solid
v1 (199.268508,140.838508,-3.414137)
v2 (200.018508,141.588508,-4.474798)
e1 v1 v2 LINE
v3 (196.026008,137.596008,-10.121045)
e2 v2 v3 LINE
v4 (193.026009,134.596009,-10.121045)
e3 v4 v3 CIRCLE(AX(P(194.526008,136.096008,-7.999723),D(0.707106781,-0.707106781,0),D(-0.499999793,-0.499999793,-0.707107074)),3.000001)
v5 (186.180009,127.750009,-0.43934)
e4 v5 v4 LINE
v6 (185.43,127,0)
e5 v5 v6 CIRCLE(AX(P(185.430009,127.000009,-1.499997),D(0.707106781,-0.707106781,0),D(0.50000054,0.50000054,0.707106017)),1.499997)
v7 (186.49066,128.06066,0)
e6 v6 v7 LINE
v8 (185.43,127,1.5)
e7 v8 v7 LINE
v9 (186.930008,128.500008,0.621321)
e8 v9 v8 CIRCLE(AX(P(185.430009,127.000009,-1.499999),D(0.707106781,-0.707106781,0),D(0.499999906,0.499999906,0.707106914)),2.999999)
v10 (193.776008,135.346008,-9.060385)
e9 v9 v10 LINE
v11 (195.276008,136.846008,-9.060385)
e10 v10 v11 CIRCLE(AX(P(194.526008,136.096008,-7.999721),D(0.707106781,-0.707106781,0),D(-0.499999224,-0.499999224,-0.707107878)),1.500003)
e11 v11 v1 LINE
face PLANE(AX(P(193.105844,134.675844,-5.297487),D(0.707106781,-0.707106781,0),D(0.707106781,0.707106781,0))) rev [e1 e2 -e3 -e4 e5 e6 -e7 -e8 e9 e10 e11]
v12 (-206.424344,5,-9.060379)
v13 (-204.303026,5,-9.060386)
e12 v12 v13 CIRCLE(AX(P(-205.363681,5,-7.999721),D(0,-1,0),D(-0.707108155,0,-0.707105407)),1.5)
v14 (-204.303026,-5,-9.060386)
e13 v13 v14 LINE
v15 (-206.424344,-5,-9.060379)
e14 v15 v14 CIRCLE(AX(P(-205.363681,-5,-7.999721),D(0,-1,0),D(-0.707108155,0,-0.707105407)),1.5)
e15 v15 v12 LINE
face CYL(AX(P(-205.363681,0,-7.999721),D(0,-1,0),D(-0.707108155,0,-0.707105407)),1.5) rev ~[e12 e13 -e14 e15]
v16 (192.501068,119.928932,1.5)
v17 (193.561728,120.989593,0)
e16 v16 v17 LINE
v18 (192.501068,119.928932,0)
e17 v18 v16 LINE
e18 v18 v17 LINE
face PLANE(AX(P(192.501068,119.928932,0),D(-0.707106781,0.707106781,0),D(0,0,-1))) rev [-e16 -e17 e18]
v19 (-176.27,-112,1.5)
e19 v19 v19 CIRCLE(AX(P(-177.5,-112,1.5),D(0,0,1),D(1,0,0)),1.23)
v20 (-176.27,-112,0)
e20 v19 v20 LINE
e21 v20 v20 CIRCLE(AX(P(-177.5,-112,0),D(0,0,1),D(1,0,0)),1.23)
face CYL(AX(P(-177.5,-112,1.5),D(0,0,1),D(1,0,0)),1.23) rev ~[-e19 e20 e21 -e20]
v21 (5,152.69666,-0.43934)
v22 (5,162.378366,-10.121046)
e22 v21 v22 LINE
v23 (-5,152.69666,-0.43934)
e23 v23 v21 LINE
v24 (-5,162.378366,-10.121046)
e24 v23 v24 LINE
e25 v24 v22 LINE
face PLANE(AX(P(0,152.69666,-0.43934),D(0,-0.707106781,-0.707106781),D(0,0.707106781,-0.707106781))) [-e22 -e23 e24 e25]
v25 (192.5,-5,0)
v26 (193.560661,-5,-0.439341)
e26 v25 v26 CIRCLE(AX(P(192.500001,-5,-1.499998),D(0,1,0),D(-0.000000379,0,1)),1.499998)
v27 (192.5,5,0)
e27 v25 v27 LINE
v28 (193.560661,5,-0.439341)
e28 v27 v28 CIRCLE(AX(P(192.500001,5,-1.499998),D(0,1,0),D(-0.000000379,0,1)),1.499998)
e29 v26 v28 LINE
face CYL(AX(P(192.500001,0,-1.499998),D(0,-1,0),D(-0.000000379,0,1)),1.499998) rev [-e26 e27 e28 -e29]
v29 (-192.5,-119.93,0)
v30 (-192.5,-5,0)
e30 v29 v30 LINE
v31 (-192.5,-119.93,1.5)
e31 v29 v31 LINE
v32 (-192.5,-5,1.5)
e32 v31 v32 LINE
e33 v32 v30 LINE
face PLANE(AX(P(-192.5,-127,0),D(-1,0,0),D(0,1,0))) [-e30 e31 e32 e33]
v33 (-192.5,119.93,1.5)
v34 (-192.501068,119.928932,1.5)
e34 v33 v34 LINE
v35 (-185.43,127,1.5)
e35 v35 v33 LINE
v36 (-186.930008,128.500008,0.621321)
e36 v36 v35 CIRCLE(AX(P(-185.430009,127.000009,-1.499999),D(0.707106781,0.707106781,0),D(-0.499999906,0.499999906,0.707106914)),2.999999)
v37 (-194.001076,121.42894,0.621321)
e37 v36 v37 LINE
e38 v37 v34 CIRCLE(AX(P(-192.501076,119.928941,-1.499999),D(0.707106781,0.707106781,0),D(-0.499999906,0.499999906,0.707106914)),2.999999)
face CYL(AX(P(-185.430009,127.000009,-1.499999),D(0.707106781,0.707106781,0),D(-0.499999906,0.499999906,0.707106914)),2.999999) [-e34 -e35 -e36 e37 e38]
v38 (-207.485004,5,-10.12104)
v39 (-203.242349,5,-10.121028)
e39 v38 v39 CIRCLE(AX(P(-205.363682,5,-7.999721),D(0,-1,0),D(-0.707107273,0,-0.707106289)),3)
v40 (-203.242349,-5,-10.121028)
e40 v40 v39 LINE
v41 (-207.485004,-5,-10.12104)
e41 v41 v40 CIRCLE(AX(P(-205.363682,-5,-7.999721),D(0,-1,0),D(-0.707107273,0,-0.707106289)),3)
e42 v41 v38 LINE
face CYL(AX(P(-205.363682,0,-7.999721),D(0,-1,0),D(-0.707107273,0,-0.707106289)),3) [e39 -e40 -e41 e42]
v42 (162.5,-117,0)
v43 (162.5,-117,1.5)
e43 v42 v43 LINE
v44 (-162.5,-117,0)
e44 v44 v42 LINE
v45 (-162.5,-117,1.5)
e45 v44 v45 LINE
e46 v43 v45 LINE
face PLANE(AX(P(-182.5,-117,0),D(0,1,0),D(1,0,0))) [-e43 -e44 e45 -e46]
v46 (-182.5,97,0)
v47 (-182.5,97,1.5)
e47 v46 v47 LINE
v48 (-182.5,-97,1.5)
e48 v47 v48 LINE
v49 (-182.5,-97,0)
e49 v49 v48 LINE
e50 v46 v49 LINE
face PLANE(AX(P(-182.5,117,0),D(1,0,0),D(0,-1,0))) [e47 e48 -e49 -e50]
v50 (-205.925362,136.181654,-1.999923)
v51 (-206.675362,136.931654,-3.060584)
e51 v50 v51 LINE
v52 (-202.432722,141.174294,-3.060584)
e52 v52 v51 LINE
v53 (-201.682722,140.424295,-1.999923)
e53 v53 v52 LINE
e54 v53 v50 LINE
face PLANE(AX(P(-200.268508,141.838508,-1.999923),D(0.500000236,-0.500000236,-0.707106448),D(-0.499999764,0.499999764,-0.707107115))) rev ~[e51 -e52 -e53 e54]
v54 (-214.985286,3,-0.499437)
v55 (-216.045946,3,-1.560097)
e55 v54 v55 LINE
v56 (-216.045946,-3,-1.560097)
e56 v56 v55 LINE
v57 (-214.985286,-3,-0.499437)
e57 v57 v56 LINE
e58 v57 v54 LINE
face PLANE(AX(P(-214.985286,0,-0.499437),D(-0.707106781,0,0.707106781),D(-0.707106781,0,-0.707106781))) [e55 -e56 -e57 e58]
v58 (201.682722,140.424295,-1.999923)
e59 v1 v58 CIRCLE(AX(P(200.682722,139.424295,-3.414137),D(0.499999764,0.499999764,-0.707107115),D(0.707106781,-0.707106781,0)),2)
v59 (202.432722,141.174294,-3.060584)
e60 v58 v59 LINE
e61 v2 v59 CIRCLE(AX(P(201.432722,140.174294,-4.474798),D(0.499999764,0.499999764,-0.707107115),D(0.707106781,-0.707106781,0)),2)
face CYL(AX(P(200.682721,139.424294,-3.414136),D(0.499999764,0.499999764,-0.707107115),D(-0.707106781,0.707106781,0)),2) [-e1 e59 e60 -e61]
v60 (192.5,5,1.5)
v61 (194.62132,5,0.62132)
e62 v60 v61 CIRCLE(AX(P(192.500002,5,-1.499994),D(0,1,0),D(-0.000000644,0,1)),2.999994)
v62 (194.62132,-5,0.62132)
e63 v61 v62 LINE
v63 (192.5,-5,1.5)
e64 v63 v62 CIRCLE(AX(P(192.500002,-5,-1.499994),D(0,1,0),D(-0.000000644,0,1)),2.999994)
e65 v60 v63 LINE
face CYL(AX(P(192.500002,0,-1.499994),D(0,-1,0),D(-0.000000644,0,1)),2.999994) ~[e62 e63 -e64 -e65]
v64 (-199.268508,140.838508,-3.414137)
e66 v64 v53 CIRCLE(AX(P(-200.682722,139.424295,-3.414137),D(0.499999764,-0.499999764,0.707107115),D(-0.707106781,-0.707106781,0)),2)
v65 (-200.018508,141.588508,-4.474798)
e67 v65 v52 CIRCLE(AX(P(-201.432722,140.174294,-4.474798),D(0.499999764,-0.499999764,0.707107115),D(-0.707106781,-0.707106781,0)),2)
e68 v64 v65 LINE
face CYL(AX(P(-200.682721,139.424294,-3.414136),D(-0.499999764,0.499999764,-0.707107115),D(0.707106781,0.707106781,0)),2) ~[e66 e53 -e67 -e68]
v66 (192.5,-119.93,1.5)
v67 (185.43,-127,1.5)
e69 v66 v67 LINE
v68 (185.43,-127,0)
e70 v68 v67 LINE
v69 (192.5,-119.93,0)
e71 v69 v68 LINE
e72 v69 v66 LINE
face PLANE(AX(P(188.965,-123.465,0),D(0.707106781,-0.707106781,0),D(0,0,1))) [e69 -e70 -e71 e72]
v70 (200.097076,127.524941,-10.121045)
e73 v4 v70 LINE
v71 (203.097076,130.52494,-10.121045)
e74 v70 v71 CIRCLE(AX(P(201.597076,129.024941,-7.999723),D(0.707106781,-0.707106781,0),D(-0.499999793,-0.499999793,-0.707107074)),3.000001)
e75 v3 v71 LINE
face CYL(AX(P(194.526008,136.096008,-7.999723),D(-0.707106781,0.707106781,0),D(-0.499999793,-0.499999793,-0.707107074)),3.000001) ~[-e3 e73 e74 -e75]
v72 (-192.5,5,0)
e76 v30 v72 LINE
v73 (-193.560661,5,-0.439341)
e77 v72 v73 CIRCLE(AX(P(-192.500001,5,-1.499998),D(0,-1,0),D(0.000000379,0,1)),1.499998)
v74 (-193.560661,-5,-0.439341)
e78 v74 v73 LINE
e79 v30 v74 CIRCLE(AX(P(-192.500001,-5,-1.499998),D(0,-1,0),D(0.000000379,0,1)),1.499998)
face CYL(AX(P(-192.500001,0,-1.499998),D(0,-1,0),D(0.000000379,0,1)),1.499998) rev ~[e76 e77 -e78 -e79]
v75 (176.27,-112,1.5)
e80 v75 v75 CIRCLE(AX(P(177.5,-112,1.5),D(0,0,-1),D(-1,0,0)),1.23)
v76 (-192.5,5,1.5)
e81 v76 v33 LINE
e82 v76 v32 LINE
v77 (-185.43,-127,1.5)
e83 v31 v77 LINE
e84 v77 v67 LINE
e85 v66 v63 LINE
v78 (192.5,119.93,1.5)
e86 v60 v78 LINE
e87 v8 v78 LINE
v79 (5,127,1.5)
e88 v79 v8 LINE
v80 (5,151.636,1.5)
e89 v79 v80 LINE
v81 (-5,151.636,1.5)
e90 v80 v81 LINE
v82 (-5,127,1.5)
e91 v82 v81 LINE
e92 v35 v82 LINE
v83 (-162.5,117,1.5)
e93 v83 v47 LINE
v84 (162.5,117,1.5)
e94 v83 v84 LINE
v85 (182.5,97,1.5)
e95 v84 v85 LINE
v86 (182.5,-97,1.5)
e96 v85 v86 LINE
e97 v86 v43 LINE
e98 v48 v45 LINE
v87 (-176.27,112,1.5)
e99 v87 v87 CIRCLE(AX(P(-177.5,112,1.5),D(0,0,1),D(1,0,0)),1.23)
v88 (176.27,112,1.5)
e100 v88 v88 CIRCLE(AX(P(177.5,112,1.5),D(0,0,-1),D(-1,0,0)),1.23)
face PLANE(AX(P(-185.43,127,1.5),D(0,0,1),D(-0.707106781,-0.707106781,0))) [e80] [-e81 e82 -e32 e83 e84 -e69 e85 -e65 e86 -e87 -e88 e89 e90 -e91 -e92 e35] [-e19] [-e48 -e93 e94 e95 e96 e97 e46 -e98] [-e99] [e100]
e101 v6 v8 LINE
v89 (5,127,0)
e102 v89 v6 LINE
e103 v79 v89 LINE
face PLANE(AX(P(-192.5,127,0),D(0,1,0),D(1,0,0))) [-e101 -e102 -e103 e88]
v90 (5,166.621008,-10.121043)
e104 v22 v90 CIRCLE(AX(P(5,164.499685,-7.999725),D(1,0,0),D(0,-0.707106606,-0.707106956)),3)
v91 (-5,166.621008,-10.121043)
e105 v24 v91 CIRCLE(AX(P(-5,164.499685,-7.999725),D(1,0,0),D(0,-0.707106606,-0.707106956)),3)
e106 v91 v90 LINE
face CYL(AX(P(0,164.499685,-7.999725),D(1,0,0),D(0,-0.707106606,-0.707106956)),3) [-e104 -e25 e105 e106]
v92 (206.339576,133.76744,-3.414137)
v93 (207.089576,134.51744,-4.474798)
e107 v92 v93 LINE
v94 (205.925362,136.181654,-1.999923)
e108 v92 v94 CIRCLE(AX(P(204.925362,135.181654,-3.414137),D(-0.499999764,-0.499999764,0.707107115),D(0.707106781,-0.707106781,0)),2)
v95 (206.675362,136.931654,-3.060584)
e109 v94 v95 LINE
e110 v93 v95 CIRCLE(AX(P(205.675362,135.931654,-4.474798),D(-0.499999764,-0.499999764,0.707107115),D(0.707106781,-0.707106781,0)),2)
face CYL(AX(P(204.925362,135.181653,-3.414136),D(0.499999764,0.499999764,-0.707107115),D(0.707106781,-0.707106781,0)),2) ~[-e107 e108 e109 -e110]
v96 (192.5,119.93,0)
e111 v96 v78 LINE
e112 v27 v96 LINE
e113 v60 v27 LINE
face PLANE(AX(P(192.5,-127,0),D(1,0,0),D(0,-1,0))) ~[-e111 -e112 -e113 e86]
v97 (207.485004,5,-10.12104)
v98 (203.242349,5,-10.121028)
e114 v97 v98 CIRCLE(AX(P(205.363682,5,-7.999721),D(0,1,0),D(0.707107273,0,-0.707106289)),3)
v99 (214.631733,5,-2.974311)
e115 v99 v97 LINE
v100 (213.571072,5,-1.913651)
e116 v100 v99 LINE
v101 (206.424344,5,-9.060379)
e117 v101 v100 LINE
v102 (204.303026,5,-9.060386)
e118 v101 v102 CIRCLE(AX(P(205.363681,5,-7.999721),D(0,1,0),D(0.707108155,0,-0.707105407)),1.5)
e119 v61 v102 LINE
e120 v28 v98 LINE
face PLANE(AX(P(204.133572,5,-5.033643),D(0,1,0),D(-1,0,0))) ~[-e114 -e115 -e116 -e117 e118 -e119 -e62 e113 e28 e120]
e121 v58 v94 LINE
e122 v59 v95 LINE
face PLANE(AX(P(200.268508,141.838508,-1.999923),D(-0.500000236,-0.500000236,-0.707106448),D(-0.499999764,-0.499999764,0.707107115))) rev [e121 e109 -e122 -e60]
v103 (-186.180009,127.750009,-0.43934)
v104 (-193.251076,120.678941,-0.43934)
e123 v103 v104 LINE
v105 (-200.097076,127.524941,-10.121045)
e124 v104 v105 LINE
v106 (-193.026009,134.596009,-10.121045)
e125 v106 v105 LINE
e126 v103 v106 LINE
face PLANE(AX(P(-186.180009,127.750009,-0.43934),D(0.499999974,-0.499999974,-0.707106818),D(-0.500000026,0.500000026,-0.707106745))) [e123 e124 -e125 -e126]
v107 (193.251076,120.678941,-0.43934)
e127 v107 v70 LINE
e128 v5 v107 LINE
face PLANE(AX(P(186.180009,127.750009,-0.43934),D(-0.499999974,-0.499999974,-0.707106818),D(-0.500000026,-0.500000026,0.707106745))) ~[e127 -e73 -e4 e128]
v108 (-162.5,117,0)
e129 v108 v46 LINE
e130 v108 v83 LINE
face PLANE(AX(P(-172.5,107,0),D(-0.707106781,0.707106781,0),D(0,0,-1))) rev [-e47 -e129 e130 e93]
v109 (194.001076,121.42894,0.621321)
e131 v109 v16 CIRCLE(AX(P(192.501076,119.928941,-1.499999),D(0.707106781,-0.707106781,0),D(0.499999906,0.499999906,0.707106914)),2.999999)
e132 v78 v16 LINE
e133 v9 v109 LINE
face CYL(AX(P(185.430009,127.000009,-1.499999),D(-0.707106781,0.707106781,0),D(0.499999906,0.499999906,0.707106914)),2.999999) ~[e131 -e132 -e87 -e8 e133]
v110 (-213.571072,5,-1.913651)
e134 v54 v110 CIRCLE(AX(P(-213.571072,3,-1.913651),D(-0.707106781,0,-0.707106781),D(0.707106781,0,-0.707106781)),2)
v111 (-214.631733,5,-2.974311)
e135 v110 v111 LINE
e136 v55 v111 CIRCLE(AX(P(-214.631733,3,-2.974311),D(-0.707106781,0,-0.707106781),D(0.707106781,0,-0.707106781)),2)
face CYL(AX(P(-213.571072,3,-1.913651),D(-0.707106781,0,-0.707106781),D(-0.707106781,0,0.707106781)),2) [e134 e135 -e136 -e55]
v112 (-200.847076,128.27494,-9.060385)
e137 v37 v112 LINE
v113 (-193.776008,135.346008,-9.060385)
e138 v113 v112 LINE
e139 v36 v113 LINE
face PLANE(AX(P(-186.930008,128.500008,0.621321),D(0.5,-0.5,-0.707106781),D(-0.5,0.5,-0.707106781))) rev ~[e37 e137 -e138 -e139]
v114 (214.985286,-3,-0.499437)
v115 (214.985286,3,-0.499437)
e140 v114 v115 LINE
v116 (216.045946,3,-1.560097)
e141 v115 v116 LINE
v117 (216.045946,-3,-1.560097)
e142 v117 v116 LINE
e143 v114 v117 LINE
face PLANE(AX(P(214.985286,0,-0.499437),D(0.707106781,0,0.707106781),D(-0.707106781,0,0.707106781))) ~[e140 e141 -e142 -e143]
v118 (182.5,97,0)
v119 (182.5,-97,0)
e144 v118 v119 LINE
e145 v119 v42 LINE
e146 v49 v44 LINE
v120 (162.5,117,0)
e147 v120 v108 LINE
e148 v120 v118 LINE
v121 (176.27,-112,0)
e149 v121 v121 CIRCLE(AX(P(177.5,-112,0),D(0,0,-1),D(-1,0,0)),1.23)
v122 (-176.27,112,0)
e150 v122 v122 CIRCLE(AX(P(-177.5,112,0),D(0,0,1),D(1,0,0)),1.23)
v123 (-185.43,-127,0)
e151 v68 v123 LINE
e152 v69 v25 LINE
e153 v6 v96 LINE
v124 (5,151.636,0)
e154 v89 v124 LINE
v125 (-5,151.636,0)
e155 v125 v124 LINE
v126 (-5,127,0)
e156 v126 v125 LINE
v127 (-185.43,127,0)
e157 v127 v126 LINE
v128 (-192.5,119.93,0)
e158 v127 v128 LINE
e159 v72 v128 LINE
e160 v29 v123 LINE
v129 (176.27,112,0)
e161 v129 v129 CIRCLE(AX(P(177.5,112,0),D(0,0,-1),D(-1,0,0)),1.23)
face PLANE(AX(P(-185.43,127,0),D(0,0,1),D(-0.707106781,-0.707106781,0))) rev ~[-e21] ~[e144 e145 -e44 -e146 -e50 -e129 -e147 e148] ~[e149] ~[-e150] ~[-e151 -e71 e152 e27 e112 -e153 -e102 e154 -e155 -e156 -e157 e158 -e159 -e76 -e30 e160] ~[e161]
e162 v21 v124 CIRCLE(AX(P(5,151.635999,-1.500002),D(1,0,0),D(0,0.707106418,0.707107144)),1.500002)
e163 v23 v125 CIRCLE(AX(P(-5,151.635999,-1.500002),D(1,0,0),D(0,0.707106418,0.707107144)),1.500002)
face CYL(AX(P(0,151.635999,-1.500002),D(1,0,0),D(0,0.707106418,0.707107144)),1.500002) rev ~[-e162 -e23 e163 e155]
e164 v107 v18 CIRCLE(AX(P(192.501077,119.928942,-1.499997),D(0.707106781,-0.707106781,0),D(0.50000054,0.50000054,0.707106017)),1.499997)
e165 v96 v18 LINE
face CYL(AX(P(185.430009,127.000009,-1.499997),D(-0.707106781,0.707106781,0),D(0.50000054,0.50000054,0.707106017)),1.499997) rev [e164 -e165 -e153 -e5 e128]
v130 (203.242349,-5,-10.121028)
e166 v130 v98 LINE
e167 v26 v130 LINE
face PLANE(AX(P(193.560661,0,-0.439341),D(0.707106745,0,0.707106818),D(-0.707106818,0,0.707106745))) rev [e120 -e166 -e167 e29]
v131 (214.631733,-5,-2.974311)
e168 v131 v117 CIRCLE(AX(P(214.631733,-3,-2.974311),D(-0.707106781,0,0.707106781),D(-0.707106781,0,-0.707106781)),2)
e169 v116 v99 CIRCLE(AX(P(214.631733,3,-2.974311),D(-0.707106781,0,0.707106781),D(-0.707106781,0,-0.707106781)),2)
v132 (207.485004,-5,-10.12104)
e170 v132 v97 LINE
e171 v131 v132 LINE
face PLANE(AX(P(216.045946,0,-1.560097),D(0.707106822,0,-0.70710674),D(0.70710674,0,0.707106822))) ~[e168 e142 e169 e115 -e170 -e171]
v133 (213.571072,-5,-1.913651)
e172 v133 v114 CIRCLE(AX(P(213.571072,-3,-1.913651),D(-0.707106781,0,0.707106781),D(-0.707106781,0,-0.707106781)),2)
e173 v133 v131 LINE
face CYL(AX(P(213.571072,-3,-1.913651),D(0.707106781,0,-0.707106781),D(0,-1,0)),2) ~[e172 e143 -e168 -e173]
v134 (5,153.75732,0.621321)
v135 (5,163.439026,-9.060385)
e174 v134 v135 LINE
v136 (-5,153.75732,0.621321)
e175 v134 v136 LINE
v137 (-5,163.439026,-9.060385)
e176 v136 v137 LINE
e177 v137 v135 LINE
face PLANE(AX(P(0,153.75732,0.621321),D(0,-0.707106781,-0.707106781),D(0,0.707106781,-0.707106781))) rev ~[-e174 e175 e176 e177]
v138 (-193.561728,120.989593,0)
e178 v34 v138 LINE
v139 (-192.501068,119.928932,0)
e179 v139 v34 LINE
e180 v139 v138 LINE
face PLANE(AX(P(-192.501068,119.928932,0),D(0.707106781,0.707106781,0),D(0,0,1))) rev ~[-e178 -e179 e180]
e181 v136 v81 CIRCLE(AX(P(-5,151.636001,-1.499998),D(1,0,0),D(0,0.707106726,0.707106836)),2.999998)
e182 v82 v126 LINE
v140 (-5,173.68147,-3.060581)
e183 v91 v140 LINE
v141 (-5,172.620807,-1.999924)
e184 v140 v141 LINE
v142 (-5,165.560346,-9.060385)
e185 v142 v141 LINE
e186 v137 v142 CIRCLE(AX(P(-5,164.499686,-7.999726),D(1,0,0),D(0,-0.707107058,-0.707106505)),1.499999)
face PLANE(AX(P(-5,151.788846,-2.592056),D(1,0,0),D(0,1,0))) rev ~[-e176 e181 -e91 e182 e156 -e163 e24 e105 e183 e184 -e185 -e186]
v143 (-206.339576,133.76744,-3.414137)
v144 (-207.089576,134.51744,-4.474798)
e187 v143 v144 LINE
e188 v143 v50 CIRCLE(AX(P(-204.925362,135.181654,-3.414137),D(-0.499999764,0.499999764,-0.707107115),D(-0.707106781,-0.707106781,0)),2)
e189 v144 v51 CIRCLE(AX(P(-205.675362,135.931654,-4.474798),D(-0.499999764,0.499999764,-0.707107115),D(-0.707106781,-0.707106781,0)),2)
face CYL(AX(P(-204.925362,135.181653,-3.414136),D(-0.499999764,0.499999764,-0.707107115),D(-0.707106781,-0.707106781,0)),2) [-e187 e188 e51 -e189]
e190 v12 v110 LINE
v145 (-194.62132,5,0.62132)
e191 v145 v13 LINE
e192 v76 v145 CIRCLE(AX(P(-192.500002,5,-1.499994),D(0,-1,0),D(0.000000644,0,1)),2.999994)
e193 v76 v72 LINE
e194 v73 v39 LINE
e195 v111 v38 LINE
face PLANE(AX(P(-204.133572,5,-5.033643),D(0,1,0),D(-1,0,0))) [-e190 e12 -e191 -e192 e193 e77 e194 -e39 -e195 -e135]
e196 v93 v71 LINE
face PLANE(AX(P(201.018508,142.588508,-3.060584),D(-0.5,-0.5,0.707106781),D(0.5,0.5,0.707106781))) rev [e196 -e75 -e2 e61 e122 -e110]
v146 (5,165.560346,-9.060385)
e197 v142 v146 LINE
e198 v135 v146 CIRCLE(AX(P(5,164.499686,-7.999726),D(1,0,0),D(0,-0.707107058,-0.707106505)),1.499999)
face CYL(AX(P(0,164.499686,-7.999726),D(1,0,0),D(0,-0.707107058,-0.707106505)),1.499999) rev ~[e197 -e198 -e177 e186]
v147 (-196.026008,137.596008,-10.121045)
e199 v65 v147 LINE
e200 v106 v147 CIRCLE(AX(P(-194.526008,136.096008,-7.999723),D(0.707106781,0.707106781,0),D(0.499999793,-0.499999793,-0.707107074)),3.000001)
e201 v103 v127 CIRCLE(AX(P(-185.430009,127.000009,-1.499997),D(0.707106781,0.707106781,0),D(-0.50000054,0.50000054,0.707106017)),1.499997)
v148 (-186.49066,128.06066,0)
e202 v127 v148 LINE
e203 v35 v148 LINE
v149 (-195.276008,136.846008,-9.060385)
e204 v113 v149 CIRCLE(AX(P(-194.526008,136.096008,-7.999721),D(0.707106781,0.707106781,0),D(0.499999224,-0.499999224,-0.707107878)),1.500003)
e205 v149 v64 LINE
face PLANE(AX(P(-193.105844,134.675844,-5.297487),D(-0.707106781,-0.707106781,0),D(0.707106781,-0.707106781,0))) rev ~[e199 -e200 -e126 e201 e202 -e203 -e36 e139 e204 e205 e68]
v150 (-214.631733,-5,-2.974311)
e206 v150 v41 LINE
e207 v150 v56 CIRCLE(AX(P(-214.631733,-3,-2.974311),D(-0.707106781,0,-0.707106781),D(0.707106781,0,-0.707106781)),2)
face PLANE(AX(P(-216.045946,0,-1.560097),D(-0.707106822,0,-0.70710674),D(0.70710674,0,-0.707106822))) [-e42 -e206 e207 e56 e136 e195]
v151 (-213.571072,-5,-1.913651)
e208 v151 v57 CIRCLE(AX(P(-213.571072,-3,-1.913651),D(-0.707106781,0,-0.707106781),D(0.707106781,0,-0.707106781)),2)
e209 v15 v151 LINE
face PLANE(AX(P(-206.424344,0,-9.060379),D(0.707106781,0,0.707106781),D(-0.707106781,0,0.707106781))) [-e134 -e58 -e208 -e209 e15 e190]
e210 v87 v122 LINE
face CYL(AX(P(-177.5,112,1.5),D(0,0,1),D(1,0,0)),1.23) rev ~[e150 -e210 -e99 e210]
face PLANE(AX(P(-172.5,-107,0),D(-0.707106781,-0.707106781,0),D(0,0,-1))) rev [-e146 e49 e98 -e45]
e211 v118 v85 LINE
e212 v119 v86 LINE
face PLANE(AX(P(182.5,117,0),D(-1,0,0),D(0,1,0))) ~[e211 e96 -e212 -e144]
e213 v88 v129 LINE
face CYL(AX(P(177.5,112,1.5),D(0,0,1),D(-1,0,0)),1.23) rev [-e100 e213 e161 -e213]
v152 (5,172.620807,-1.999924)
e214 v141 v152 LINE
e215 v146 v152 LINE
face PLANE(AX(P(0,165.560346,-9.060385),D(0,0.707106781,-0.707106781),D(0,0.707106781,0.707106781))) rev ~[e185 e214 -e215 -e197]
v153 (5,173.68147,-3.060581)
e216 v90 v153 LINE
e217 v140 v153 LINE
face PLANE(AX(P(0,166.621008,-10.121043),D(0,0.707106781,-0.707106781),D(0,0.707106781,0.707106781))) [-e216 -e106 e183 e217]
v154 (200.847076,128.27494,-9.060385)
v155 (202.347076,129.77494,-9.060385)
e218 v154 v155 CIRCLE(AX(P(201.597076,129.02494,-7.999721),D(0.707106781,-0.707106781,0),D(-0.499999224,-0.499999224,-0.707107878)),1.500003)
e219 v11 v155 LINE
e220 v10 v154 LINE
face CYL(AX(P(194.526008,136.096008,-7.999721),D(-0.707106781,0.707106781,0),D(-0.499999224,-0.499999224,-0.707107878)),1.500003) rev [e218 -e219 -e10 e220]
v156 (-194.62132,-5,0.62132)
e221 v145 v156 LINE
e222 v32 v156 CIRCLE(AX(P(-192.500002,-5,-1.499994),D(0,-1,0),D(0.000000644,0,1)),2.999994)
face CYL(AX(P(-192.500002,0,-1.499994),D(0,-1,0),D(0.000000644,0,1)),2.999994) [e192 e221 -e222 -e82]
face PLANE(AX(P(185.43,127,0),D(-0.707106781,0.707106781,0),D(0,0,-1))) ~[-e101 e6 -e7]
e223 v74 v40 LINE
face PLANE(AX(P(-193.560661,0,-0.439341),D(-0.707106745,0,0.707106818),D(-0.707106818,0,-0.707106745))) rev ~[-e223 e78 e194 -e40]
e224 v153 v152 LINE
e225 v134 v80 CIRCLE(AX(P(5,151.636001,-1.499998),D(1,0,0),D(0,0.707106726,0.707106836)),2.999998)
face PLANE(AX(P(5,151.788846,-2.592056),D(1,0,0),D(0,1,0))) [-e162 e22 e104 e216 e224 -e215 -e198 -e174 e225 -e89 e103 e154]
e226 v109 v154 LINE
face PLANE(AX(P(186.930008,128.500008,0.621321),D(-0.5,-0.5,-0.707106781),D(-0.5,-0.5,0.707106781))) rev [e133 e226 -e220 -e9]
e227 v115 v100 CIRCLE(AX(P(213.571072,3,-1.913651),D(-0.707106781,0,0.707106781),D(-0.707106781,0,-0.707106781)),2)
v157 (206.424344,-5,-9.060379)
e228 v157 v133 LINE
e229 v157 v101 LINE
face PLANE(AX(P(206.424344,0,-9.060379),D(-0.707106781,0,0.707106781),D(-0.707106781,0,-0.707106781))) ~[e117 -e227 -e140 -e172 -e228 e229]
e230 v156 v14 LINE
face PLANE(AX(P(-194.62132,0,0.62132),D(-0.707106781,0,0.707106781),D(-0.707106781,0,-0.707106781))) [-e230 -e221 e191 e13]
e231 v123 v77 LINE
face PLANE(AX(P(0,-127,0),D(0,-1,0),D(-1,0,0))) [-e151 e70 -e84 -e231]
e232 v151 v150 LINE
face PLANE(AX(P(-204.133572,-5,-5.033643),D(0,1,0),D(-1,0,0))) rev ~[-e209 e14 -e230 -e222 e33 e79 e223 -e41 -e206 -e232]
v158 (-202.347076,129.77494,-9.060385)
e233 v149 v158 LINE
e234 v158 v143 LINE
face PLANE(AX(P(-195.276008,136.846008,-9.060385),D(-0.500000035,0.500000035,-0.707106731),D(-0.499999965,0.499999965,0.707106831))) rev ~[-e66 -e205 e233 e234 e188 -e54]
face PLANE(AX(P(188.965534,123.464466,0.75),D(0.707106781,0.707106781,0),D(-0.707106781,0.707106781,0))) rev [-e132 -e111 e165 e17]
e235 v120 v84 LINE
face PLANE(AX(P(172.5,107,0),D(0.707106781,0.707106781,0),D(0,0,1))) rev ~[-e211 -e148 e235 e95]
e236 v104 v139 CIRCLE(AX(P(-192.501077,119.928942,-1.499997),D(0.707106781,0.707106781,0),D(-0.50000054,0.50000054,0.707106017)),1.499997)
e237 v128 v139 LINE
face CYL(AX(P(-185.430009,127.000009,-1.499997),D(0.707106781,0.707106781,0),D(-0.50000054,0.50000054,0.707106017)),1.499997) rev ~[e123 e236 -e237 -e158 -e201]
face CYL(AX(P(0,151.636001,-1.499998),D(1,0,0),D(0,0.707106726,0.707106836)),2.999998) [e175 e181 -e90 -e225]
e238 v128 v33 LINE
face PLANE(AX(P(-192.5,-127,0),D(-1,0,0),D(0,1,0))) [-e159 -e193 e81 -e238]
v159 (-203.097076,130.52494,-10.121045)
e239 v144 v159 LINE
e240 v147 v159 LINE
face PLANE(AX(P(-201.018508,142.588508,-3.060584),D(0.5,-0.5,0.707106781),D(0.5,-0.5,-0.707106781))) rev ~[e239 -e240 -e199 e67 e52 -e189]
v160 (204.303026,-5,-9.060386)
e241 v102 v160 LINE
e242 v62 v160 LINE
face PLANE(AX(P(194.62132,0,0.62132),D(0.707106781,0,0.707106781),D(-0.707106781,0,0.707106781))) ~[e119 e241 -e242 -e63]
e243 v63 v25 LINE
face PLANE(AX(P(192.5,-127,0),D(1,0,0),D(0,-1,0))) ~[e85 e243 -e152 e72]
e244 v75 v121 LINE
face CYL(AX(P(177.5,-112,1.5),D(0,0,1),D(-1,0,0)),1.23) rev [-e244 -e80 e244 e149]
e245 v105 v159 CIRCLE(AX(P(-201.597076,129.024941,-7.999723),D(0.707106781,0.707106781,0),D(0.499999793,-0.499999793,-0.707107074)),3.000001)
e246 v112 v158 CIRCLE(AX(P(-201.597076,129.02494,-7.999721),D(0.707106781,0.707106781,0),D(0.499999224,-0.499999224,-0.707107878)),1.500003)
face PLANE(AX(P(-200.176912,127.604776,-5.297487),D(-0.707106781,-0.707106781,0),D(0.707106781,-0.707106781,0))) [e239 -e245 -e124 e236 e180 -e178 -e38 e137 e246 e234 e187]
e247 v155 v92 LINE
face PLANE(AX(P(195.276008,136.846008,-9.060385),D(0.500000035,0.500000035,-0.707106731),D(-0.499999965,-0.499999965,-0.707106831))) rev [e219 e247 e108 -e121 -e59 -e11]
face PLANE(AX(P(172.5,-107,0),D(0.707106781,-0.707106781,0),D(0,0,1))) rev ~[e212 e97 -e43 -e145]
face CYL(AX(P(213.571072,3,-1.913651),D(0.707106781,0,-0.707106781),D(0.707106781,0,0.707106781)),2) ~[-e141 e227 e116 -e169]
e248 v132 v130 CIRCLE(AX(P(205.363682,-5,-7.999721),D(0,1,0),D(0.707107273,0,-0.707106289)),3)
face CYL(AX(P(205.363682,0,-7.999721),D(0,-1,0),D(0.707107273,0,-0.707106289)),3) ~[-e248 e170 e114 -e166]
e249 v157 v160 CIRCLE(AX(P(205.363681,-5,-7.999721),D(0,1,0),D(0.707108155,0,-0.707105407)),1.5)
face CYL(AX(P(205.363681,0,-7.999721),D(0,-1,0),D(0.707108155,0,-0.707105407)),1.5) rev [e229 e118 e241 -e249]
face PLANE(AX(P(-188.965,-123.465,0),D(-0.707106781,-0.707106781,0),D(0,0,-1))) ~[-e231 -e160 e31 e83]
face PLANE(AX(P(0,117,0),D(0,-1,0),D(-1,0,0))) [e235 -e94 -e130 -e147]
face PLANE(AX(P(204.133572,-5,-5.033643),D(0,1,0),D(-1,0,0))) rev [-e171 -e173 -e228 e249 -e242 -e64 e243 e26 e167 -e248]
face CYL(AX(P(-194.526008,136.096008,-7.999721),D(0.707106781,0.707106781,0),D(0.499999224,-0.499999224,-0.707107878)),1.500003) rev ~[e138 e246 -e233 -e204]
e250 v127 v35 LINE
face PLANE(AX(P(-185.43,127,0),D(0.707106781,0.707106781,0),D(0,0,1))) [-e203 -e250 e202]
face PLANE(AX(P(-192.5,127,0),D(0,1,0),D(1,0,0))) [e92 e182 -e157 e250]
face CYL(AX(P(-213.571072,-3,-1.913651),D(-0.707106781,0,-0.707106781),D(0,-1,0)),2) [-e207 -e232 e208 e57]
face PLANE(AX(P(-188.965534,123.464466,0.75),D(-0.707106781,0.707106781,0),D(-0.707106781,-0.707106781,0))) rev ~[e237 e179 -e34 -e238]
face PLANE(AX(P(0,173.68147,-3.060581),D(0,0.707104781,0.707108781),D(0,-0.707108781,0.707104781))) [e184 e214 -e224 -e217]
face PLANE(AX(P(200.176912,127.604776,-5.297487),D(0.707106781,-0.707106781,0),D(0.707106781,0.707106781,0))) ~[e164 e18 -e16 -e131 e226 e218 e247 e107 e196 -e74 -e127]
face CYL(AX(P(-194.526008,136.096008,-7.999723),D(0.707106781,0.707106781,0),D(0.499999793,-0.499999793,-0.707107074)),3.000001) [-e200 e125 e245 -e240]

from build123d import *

# Parameters (mm, degrees)
PAD_DEPTH       = 1.5
CHAMFER_SIZE    = 20
CHAMFER001_SIZE = 7.07
SKETCH001_W     = 10
SKETCH001_H     = 1.5
PAD001_DEPTH    = 1.5
POCKET_DEPTH    = 10
PAD002_DEPTH    = 10
FILLET_R        = 2
SKETCH004_R     = 1.23
POCKET001_DEPTH = 5
PAD003_DEPTH    = 5
FILLET001_R     = 2
PAD004_DEPTH    = 5


with BuildPart() as pocket001:
    # Sketch → Pad (new body)
    with BuildSketch(Plane.XY):
        Polygon((-192.5, 127), (0, 127), (0, 117), (-182.5, 117), (-182.5, -117), (0, -117), (0, -127), (-192.5, -127), align=None)
    extrude(amount=PAD_DEPTH)

    # Chamfer
    chamfer_edges = [pocket001.edges().sort_by_distance(p)[0] for p in [
        (-182.5, 117, 0.75),
        (-182.5, -117, 0.75),
    ]]
    chamfer(chamfer_edges, length=CHAMFER_SIZE)

    # Chamfer001
    chamfer001_edges = [pocket001.edges().sort_by_distance(p)[0] for p in [
        (-192.5, -127, 0.75),
        (-192.5, 127, 0.75),
    ]]
    chamfer(chamfer001_edges, length=CHAMFER001_SIZE)

    # Sketch001 → Pad001 (new body)
    with BuildSketch(Plane(origin=(-156.215, 156.215, 0), x_dir=(-0.707107, -0.707107, 0), z_dir=(-0.707107, 0.707107, 0))):
        with Locations((46.316249, 0.75)):
            Rectangle(SKETCH001_W, SKETCH001_H)
    extrude(amount=PAD001_DEPTH)

    # Sketch002 → Pocket (cut)
    with BuildSketch(Plane(origin=(-29.215, -29.215, 0), x_dir=(-0.707107, 0.707107, 0), z_dir=(0.707107, 0.707107, 0))):
        Polygon((220.921372, 1.5), (225.921372, -3.5), (225.921372, 1.5), align=None)
    extrude(amount=-POCKET_DEPTH, mode=Mode.SUBTRACT)

    # Sketch003 → Pad002 (new body)
    with BuildSketch(Plane(origin=(-29.215, -29.215, 0), x_dir=(-0.707107, 0.707107, 0), z_dir=(0.707107, 0.707107, 0))):
        with BuildLine():
            Line((223.042703, 0.621321), (232.724409, -9.060385))
            ThreePointArc((232.724409, -9.060385), (233.785069, -9.499724), (234.84573, -9.060385))
            Line((234.84573, -9.060385), (241.906191, -1.999923))
            Line((241.906191, -1.999923), (242.966851, -3.060584))
            Line((242.966851, -3.060584), (235.90639, -10.121045))
            ThreePointArc((231.66375, -10.121045), (233.78507, -10.999724), (235.90639, -10.121045))
            Line((221.982044, -0.43934), (231.66375, -10.121045))
            ThreePointArc((221.982044, -0.43934), (221.495403, -0.114178), (220.921372, 0))
            Line((220.921372, 1.5), (220.921372, 0))
            ThreePointArc((223.042703, 0.621321), (222.069428, 1.271641), (220.921372, 1.5))
        make_face()
    extrude(amount=-PAD002_DEPTH)

    # Fillet
    fillet_edges = [pocket001.edges().sort_by_distance(p)[0] for p in [
        (-200.643508, 142.213508, -2.530254),
        (-207.714576, 135.14244, -2.530254),
    ]]
    fillet(fillet_edges, radius=FILLET_R)

    # Sketch004 → Pocket001 (cut)
    with BuildSketch(Plane.XY.offset(1.5)):
        with Locations((-177.5, 112)):
            Circle(SKETCH004_R)
        with Locations((-177.5, -112)):
            Circle(SKETCH004_R)
    extrude(amount=-POCKET001_DEPTH, mode=Mode.SUBTRACT)


with BuildPart() as fusion:
    # Sketch005 → Pad003 (new body, symmetric)
    with BuildSketch(Plane.XZ):
        with BuildLine():
            Line((-192.5, 1.5), (-192.5, 0))
            ThreePointArc((-192.5, 0), (-193.074026, -0.114181), (-193.560661, -0.439341))
            Line((-193.560661, -0.439341), (-203.242349, -10.121028))
            ThreePointArc((-207.485004, -10.12104), (-205.363674, -10.999721), (-203.242349, -10.121028))
            Line((-216.045946, -1.560097), (-207.485004, -10.12104))
            Line((-214.985286, -0.499437), (-216.045946, -1.560097))
            Line((-206.424344, -9.060379), (-214.985286, -0.499437))
            ThreePointArc((-206.424344, -9.060379), (-205.363686, -9.499721), (-204.303026, -9.060386))
            Line((-194.62132, 0.62132), (-204.303026, -9.060386))
            ThreePointArc((-192.5, 1.5), (-193.64805, 1.271639), (-194.62132, 0.62132))
        make_face()
    extrude(amount=PAD003_DEPTH, both=True)

    # Fillet001
    fillet001_edges = [fusion.edges().sort_by_distance(p)[0] for p in [
        (-215.515616, -5, -1.029767),
        (-215.515616, 5, -1.029767),
    ]]
    fillet(fillet001_edges, radius=FILLET001_R)

    # Fusion: union Pocket001
    add(pocket001.part)


with BuildPart() as fusion001:
    # Part__Mirroring: instance of Fusion
    add(fusion.part.mirror(Plane(origin=(0, 0, 0), x_dir=(0, -1, 0), z_dir=(1, 0, 0))))

    # Fusion001: union Fusion
    add(fusion.part)


with BuildPart() as fusion002:
    # Sketch006 → Pad004 (new body, symmetric)
    with BuildSketch(Plane.YZ):
        with BuildLine():
            Line((127, 1.5), (127, 0))
            Line((127, 0), (151.636, 0))
            ThreePointArc((152.69666, -0.43934), (152.210025, -0.114181), (151.636, 0))
            Line((152.69666, -0.43934), (162.378366, -10.121046))
            ThreePointArc((162.378366, -10.121046), (164.499688, -10.999725), (166.621008, -10.121043))
            Line((166.621008, -10.121043), (173.68147, -3.060581))
            Line((173.68147, -3.060581), (172.620807, -1.999924))
            Line((165.560346, -9.060385), (172.620807, -1.999924))
            ThreePointArc((163.439026, -9.060385), (164.499686, -9.499725), (165.560346, -9.060385))
            Line((153.75732, 0.621321), (163.439026, -9.060385))
            ThreePointArc((153.75732, 0.621321), (152.78405, 1.271639), (151.636, 1.5))
            Line((127, 1.5), (151.636, 1.5))
        make_face()
    extrude(amount=PAD004_DEPTH, both=True)

    # Fusion002: union Fusion001
    add(fusion001.part)


solid = fusion002.part
